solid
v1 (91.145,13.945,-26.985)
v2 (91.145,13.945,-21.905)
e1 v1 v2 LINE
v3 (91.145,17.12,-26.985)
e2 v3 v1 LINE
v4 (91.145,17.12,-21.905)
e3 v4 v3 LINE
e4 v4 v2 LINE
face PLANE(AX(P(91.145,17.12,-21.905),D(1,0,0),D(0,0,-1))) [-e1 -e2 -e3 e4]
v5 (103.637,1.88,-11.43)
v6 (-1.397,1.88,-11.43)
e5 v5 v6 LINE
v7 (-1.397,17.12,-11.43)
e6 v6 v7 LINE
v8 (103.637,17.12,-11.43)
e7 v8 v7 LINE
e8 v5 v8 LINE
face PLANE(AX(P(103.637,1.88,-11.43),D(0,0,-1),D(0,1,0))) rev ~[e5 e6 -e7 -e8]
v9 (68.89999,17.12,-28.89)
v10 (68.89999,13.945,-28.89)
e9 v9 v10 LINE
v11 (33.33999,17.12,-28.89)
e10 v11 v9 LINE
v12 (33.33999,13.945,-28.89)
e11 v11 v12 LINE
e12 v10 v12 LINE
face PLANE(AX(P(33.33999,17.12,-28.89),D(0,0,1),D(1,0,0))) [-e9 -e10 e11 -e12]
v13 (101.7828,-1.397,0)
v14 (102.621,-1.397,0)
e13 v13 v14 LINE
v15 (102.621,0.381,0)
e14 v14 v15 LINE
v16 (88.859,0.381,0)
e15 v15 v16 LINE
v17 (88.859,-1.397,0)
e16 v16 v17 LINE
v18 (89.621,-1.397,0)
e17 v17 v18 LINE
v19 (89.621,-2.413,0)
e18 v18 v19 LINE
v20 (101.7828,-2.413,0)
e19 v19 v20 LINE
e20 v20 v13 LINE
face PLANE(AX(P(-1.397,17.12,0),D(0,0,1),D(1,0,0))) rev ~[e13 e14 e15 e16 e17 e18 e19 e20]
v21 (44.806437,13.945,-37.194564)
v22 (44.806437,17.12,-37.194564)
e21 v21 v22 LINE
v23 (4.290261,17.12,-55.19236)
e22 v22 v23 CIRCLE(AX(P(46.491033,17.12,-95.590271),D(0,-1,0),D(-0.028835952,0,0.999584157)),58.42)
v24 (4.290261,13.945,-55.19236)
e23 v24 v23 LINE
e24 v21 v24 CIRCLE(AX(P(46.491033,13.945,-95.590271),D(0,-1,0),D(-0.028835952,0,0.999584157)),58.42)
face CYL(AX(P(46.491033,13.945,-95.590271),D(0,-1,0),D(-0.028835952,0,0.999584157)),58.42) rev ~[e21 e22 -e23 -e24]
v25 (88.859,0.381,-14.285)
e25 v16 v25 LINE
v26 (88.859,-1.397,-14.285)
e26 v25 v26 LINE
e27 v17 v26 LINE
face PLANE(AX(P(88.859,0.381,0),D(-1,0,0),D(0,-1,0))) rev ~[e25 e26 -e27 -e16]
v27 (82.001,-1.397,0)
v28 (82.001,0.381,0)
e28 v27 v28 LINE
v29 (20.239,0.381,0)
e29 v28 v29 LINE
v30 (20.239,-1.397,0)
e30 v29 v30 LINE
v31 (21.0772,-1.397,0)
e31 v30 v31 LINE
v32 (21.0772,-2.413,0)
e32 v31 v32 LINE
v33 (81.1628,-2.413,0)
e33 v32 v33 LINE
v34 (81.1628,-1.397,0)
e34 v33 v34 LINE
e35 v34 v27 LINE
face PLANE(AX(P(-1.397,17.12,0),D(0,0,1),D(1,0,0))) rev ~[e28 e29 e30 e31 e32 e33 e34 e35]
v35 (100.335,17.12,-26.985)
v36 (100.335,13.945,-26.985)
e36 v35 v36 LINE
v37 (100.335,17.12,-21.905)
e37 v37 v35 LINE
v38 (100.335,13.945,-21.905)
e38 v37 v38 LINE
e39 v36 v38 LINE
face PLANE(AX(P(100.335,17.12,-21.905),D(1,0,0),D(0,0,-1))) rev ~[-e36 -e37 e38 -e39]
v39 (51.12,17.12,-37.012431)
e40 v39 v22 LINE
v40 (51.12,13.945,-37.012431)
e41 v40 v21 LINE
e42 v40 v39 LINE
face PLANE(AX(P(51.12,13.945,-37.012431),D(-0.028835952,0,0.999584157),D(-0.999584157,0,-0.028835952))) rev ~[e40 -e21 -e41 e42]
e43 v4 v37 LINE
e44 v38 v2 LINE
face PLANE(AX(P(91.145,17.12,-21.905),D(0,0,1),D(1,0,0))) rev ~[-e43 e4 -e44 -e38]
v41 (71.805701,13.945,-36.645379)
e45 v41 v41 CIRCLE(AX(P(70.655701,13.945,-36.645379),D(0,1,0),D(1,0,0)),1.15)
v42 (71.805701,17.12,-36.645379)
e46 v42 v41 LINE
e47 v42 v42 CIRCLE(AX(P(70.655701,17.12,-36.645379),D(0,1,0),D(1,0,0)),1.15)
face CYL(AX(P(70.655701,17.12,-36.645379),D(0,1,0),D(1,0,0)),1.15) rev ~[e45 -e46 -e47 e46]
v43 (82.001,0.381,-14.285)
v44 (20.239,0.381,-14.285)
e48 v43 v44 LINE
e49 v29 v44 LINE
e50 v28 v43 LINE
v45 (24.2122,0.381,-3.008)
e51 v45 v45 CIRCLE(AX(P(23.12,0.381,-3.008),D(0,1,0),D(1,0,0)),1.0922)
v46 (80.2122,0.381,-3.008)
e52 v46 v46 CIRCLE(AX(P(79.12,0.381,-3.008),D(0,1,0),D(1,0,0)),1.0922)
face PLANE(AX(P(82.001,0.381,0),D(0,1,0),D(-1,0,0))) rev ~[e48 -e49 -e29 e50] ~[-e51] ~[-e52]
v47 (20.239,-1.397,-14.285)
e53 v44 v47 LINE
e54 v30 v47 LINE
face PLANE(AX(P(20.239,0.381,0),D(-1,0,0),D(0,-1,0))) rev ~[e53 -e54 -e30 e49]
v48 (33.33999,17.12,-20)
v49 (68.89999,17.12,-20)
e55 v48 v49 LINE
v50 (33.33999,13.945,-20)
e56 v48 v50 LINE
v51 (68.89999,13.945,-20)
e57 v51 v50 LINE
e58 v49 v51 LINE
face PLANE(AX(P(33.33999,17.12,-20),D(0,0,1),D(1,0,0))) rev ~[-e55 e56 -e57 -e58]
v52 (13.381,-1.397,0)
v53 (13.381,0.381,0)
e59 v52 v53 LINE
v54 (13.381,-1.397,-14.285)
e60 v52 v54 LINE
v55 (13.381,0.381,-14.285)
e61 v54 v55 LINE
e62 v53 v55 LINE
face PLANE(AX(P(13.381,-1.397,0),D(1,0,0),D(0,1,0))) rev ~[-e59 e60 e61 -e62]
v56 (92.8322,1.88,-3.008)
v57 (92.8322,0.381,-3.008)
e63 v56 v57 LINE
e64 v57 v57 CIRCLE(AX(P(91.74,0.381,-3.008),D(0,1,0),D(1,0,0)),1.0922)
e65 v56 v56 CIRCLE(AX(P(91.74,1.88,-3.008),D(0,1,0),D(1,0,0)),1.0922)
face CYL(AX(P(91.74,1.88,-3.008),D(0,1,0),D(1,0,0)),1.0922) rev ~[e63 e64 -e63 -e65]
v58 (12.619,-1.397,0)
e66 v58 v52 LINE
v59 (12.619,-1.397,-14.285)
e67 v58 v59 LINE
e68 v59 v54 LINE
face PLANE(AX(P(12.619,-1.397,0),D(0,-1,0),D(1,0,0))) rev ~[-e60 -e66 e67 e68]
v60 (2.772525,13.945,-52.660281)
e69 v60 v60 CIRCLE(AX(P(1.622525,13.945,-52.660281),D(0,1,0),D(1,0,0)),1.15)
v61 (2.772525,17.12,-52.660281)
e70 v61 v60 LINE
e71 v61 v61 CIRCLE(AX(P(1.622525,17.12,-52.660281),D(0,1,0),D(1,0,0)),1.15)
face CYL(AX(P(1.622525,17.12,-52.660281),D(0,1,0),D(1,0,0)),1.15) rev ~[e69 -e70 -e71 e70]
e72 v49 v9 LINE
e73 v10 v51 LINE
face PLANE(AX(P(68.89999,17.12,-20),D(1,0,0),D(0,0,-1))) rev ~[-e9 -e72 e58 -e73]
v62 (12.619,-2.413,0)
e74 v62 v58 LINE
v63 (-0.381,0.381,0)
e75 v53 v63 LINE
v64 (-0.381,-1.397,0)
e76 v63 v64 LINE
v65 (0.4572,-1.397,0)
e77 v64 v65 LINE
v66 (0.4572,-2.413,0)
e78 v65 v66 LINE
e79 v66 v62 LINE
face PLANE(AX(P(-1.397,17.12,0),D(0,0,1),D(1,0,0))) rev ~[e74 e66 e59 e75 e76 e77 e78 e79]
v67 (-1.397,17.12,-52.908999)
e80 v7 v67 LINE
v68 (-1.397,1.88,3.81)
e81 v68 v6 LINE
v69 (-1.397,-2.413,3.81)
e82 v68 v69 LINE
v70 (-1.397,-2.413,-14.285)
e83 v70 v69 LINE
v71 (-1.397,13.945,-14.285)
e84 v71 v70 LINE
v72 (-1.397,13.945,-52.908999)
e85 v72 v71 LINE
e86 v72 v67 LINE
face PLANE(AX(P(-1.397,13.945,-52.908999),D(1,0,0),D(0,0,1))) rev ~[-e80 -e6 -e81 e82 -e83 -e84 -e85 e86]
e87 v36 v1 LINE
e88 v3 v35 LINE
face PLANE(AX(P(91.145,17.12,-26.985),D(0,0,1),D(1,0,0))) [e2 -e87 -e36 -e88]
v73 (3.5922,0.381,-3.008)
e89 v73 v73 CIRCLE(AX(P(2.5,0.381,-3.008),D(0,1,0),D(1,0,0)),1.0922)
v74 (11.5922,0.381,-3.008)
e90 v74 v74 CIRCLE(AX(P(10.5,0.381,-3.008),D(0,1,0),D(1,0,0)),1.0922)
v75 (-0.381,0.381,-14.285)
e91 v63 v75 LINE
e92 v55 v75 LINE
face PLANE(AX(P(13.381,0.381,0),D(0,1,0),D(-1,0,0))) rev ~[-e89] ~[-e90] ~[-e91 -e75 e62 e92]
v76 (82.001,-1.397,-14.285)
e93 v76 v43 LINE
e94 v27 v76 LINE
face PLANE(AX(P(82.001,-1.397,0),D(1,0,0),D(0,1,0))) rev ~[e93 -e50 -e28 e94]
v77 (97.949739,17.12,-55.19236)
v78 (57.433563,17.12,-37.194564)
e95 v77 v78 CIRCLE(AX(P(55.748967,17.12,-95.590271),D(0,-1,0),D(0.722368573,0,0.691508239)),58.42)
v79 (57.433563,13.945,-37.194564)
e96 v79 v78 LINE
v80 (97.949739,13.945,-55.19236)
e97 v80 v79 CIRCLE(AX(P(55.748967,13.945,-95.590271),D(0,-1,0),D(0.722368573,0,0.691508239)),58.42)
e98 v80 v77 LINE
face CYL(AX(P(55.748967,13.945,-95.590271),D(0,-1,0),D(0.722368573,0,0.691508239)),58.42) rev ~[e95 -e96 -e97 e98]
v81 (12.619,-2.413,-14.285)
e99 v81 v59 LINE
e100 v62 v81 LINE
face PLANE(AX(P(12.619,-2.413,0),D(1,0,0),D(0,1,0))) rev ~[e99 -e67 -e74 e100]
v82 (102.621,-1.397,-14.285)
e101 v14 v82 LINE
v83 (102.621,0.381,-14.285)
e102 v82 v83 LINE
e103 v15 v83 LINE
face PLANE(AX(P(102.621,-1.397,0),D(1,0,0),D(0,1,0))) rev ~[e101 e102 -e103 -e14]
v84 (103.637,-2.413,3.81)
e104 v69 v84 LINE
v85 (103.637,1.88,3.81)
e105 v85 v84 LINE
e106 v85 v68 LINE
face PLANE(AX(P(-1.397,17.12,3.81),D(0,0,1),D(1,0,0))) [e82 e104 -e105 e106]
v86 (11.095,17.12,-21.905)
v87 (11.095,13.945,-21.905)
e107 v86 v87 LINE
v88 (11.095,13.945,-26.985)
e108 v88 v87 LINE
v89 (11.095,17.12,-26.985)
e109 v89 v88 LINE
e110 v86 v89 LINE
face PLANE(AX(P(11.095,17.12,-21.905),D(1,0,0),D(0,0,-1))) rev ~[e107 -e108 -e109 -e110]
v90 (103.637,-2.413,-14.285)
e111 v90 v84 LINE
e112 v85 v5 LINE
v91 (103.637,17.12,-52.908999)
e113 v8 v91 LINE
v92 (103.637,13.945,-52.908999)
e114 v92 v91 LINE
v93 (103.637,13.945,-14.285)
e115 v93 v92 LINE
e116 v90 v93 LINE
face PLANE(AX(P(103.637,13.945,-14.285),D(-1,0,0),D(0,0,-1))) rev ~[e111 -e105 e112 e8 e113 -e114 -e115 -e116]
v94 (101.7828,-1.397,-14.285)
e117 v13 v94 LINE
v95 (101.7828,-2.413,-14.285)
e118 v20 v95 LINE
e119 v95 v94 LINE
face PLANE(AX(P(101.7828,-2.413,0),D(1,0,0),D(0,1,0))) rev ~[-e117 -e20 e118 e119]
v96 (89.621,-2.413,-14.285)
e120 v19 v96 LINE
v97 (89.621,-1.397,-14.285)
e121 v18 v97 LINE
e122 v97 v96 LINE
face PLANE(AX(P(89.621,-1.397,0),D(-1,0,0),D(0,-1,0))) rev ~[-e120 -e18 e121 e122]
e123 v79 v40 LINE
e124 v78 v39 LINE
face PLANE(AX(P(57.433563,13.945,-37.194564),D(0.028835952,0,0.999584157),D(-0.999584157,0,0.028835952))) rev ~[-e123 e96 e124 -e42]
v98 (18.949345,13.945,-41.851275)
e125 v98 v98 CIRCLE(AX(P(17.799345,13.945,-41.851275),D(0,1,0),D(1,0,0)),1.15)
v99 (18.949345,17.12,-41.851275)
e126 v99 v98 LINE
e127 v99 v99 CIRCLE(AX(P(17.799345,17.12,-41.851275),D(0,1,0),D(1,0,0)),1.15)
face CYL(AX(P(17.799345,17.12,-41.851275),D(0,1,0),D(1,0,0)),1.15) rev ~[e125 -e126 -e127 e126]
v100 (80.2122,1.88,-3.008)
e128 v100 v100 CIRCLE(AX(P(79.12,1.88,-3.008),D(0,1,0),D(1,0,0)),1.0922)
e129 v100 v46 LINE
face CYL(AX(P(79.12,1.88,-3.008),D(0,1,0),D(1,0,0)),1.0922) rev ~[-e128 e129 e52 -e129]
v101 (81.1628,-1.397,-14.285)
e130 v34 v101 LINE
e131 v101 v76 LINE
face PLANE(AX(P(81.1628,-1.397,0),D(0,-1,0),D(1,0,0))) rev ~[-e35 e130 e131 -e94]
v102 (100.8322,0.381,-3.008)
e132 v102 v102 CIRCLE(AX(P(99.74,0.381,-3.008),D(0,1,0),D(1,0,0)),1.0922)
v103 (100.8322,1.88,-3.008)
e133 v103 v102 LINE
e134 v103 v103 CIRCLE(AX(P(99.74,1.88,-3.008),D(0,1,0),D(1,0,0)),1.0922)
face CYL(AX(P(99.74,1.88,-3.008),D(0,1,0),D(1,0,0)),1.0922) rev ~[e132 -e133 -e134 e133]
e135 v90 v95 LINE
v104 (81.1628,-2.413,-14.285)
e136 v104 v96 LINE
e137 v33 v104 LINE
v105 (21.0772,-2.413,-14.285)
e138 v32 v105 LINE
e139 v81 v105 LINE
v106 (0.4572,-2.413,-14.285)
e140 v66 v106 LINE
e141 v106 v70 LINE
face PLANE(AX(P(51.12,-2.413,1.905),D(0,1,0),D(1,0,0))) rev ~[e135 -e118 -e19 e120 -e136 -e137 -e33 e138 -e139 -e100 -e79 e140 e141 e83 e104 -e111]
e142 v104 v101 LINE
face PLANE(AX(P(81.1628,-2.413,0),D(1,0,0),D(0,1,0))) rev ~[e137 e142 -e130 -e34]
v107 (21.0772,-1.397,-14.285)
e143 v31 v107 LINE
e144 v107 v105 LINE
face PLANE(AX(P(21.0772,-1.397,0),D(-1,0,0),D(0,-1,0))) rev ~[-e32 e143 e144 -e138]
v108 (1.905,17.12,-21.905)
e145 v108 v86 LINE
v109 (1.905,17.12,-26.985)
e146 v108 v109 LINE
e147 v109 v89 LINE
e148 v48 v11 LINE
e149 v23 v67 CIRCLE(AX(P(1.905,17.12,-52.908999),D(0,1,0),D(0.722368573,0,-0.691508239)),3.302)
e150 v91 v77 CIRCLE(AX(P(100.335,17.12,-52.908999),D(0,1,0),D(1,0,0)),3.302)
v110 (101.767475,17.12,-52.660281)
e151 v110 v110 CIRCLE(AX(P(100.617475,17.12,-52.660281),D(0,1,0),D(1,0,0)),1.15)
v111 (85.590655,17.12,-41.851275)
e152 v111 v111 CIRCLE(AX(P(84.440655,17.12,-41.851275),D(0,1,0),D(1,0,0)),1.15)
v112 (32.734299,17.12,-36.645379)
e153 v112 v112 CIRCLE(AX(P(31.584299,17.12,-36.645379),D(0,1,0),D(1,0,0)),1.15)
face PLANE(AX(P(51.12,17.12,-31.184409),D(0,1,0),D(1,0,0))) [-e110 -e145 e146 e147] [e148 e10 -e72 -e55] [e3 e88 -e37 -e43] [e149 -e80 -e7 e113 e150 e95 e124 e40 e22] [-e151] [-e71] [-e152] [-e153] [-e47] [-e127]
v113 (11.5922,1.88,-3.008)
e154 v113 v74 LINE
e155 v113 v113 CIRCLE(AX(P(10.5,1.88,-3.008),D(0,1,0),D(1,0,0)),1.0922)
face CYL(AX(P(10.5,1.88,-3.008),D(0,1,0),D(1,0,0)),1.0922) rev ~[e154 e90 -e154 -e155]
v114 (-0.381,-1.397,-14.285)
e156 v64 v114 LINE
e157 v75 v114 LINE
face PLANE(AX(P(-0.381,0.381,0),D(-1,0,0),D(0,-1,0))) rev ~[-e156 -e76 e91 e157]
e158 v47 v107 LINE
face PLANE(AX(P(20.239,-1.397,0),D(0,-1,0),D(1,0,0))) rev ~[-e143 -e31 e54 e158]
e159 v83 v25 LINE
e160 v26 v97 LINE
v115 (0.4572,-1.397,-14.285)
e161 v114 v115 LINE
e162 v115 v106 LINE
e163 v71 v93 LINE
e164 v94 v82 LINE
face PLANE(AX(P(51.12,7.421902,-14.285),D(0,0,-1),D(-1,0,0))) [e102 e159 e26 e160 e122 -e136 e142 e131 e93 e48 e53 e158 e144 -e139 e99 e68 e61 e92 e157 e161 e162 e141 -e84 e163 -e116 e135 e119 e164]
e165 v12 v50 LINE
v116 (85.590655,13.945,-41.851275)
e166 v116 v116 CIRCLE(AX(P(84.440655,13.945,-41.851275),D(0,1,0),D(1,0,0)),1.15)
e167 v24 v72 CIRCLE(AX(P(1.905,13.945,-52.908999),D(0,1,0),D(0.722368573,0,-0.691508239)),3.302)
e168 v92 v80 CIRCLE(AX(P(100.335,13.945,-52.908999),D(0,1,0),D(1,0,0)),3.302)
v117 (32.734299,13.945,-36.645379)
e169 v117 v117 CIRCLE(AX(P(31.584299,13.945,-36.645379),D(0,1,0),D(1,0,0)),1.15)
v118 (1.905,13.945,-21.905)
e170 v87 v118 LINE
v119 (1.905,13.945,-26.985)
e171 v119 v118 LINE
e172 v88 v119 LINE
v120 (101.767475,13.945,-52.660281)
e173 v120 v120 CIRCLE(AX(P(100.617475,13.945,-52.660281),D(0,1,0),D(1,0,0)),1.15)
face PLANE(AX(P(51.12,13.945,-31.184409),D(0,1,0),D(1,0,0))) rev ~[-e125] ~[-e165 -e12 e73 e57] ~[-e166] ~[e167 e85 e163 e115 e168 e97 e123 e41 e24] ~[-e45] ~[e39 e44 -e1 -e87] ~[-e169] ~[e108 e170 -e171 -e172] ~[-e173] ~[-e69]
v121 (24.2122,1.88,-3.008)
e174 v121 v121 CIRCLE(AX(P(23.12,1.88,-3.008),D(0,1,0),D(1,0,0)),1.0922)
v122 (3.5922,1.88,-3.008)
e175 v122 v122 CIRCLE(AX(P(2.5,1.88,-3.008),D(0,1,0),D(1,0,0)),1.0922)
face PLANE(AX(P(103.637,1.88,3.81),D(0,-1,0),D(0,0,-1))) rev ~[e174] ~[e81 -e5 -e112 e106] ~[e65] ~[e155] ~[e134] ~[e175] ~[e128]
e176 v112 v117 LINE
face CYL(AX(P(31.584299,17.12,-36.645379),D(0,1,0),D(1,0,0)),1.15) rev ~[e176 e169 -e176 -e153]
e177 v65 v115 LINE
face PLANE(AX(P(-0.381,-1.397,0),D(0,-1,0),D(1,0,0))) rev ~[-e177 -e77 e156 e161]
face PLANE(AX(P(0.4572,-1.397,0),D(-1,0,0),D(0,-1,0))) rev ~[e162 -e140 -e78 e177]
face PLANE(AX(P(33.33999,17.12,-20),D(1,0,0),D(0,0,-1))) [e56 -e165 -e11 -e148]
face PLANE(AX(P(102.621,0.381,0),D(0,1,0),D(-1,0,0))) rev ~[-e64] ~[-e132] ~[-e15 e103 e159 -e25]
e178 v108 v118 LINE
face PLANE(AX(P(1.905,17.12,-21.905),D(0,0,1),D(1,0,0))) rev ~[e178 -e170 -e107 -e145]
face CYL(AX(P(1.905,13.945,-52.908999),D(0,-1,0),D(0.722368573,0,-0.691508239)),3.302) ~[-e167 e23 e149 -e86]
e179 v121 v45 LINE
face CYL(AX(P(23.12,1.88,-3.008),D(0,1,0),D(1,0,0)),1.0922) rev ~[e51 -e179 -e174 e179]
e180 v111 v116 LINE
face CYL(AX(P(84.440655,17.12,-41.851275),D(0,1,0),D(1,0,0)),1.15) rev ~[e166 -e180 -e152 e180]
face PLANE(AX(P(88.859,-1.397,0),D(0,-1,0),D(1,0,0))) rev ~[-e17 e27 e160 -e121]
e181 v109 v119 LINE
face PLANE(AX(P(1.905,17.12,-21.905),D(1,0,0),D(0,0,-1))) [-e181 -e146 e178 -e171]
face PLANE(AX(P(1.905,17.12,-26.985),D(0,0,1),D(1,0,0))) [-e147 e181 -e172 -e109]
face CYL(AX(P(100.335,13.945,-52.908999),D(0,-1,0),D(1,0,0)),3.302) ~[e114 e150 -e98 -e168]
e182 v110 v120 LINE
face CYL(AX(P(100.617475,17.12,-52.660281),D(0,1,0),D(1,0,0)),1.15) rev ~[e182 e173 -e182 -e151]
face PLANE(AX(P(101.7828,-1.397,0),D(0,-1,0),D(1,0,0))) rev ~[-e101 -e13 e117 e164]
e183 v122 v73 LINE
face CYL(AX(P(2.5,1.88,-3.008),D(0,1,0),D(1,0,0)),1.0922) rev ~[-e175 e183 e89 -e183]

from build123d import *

# Parameters (mm, degrees)
BOSS_EXTRUDE2_DEPTH = 14.285
SKETCH4_W           = 105.034
SKETCH4_H           = 3.81
BOSS_EXTRUDE3_DEPTH = 19.533
SKETCH5_W           = 15.24
SKETCH5_H           = 15.24
CUT_EXTRUDE1_DEPTH  = 105.034
BOSS_EXTRUDE7_START = -3.175
BOSS_EXTRUDE7_DEPTH = 3.175
CUT_EXTRUDE2_REACH  = 21.533
SKETCH9_R           = 1.15
SKETCH9_W           = 35.56
SKETCH9_H           = 8.89
SKETCH9_W_2         = 9.19
SKETCH9_H_2         = 5.08
CUT_EXTRUDE3_REACH  = 6.293
SKETCH13_R          = 1.0922


with BuildPart() as part:
    # Sketch1 → Boss-Extrude2 (new body)
    with BuildSketch(Plane.XY):
        Polygon((13.381, 0.381), (-0.381, 0.381), (-0.381, -1.397), (0.4572, -1.397), (0.4572, -2.413), (-1.397, -2.413), (-1.397, 1.397), (-1.397, 17.12), (103.637, 17.12), (103.637, 1.397), (103.637, -2.413), (101.7828, -2.413), (101.7828, -1.397), (102.621, -1.397), (102.621, 0.381), (88.859, 0.381), (88.859, -1.397), (89.621, -1.397), (89.621, -2.413), (87.843, -2.413), (83.017, -2.413), (81.1628, -2.413), (81.1628, -1.397), (82.001, -1.397), (82.001, 0.381), (20.239, 0.381), (20.239, -1.397), (21.0772, -1.397), (21.0772, -2.413), (19.223, -2.413), (14.397, -2.413), (12.619, -2.413), (12.619, -1.397), (13.381, -1.397), align=None)
    extrude(amount=-BOSS_EXTRUDE2_DEPTH)

    # Sketch4 → Boss-Extrude3 (add)
    with BuildSketch(Plane(origin=(0, 17.12, 0), x_dir=(1, 0, 0), z_dir=(0, 1, 0))):
        with Locations((51.12, -1.905)):
            Rectangle(SKETCH4_W, SKETCH4_H)
    extrude(amount=-BOSS_EXTRUDE3_DEPTH)

    # Sketch5 → Cut-Extrude1 (cut)
    with BuildSketch(Plane(origin=(103.637, 0, 0), x_dir=(0, 0, -1), z_dir=(1, 0, 0))):
        with Locations((3.81, 9.5)):
            Rectangle(SKETCH5_W, SKETCH5_H)
    extrude(amount=-CUT_EXTRUDE1_DEPTH, mode=Mode.SUBTRACT)

    # Sketch8 → Boss-Extrude7 (add)
    with BuildSketch(Plane(origin=(0, 17.12, 0), x_dir=(1, 0, 0), z_dir=(0, 1, 0)).offset(BOSS_EXTRUDE7_START)):
        with BuildLine():
            Line((-1.397, 52.90899931), (-1.397, 14.285))
            Line((-1.397, 14.285), (103.637, 14.285))
            Line((103.637, 14.285), (103.637, 52.90899931))
            ThreePointArc((103.637, 52.90899931), (101.565258526, 55.97325582), (97.949738971, 55.192359514))
            ThreePointArc((97.949738971, 55.192359514), (79.465238701, 42.200806947), (57.433563247, 37.194564339))
            Line((57.433563247, 37.194564339), (51.12, 37.012430992))
            Line((51.12, 37.012430992), (44.806436753, 37.194564339))
            ThreePointArc((44.806436753, 37.194564339), (22.774761299, 42.200806947), (4.290261029, 55.192359514))
            ThreePointArc((4.290261029, 55.192359514), (0.674741474, 55.97325582), (-1.397, 52.90899931))
        make_face()
    extrude(amount=BOSS_EXTRUDE7_DEPTH)

    # Sketch9 → Cut-Extrude2 (cut, up to next)
    with BuildSketch(Plane(origin=(0, 17.12, 0), x_dir=(1, 0, 0), z_dir=(0, 1, 0)), mode=Mode.PRIVATE) as cut_extrude2_sk1:
        with Locations((100.617474683, 52.660280557)):
            Circle(SKETCH9_R)
    cut_extrude2_tool1 = extrude(cut_extrude2_sk1.sketch, amount=-CUT_EXTRUDE2_REACH, mode=Mode.PRIVATE) & part.part
    add(cut_extrude2_tool1.solids().sort_by_distance((100.617475, 17.12, -52.660281))[0], mode=Mode.SUBTRACT)
    # Sketch9 → Cut-Extrude2 (cut, up to next)
    with BuildSketch(Plane(origin=(0, 17.12, 0), x_dir=(1, 0, 0), z_dir=(0, 1, 0)), mode=Mode.PRIVATE) as cut_extrude2_sk2:
        with Locations((84.44065509, 41.851275276)):
            Circle(SKETCH9_R)
    cut_extrude2_tool2 = extrude(cut_extrude2_sk2.sketch, amount=-CUT_EXTRUDE2_REACH, mode=Mode.PRIVATE) & part.part
    add(cut_extrude2_tool2.solids().sort_by_distance((84.440655, 17.12, -41.851275))[0], mode=Mode.SUBTRACT)
    # Sketch9 → Cut-Extrude2 (cut, up to next)
    with BuildSketch(Plane(origin=(0, 17.12, 0), x_dir=(1, 0, 0), z_dir=(0, 1, 0)), mode=Mode.PRIVATE) as cut_extrude2_sk3:
        with Locations((70.655700553, 36.645378632)):
            Circle(SKETCH9_R)
    cut_extrude2_tool3 = extrude(cut_extrude2_sk3.sketch, amount=-CUT_EXTRUDE2_REACH, mode=Mode.PRIVATE) & part.part
    add(cut_extrude2_tool3.solids().sort_by_distance((70.655701, 17.12, -36.645379))[0], mode=Mode.SUBTRACT)
    # Sketch9 → Cut-Extrude2 (cut, up to next)
    with BuildSketch(Plane(origin=(0, 17.12, 0), x_dir=(1, 0, 0), z_dir=(0, 1, 0)), mode=Mode.PRIVATE) as cut_extrude2_sk4:
        with Locations((31.584299447, 36.645378632)):
            Circle(SKETCH9_R)
    cut_extrude2_tool4 = extrude(cut_extrude2_sk4.sketch, amount=-CUT_EXTRUDE2_REACH, mode=Mode.PRIVATE) & part.part
    add(cut_extrude2_tool4.solids().sort_by_distance((31.584299, 17.12, -36.645379))[0], mode=Mode.SUBTRACT)
    # Sketch9 → Cut-Extrude2 (cut, up to next)
    with BuildSketch(Plane(origin=(0, 17.12, 0), x_dir=(1, 0, 0), z_dir=(0, 1, 0)), mode=Mode.PRIVATE) as cut_extrude2_sk5:
        with Locations((17.79934491, 41.851275276)):
            Circle(SKETCH9_R)
    cut_extrude2_tool5 = extrude(cut_extrude2_sk5.sketch, amount=-CUT_EXTRUDE2_REACH, mode=Mode.PRIVATE) & part.part
    add(cut_extrude2_tool5.solids().sort_by_distance((17.799345, 17.12, -41.851275))[0], mode=Mode.SUBTRACT)
    # Sketch9 → Cut-Extrude2 (cut, up to next)
    with BuildSketch(Plane(origin=(0, 17.12, 0), x_dir=(1, 0, 0), z_dir=(0, 1, 0)), mode=Mode.PRIVATE) as cut_extrude2_sk6:
        with Locations((1.622525317, 52.660280557)):
            Circle(SKETCH9_R)
    cut_extrude2_tool6 = extrude(cut_extrude2_sk6.sketch, amount=-CUT_EXTRUDE2_REACH, mode=Mode.PRIVATE) & part.part
    add(cut_extrude2_tool6.solids().sort_by_distance((1.622525, 17.12, -52.660281))[0], mode=Mode.SUBTRACT)
    # Sketch9 → Cut-Extrude2 (cut, up to next)
    with BuildSketch(Plane(origin=(0, 17.12, 0), x_dir=(1, 0, 0), z_dir=(0, 1, 0)), mode=Mode.PRIVATE) as cut_extrude2_sk7:
        with Locations((51.1199898, 24.445)):
            Rectangle(SKETCH9_W, SKETCH9_H)
    cut_extrude2_tool7 = extrude(cut_extrude2_sk7.sketch, amount=-CUT_EXTRUDE2_REACH, mode=Mode.PRIVATE) & part.part
    add(cut_extrude2_tool7.solids().sort_by_distance((51.11999, 17.12, -24.445))[0], mode=Mode.SUBTRACT)
    # Sketch9 → Cut-Extrude2 (cut, up to next)
    with BuildSketch(Plane(origin=(0, 17.12, 0), x_dir=(1, 0, 0), z_dir=(0, 1, 0)), mode=Mode.PRIVATE) as cut_extrude2_sk8:
        with Locations((6.5, 24.445)):
            Rectangle(SKETCH9_W_2, SKETCH9_H_2)
    cut_extrude2_tool8 = extrude(cut_extrude2_sk8.sketch, amount=-CUT_EXTRUDE2_REACH, mode=Mode.PRIVATE) & part.part
    add(cut_extrude2_tool8.solids().sort_by_distance((6.5, 17.12, -24.445))[0], mode=Mode.SUBTRACT)
    # Sketch9 → Cut-Extrude2 (cut, up to next)
    with BuildSketch(Plane(origin=(0, 17.12, 0), x_dir=(1, 0, 0), z_dir=(0, 1, 0)), mode=Mode.PRIVATE) as cut_extrude2_sk9:
        with Locations((95.74, 24.445)):
            Rectangle(SKETCH9_W_2, SKETCH9_H_2)
    cut_extrude2_tool9 = extrude(cut_extrude2_sk9.sketch, amount=-CUT_EXTRUDE2_REACH, mode=Mode.PRIVATE) & part.part
    add(cut_extrude2_tool9.solids().sort_by_distance((95.74, 17.12, -24.445))[0], mode=Mode.SUBTRACT)

    # Sketch13 → Cut-Extrude3 (cut, up to next)
    with BuildSketch(Plane(origin=(0, 1.88, 0), x_dir=(1, 0, 0), z_dir=(0, 1, 0)), mode=Mode.PRIVATE) as cut_extrude3_sk1:
        with Locations((23.12, 3.008)):
            Circle(SKETCH13_R)
    cut_extrude3_tool1 = extrude(cut_extrude3_sk1.sketch, amount=-CUT_EXTRUDE3_REACH, mode=Mode.PRIVATE) & part.part
    add(cut_extrude3_tool1.solids().sort_by_distance((23.12, 1.88, -3.008))[0], mode=Mode.SUBTRACT)
    # Sketch13 → Cut-Extrude3 (cut, up to next)
    with BuildSketch(Plane(origin=(0, 1.88, 0), x_dir=(1, 0, 0), z_dir=(0, 1, 0)), mode=Mode.PRIVATE) as cut_extrude3_sk2:
        with Locations((10.5, 3.008)):
            Circle(SKETCH13_R)
    cut_extrude3_tool2 = extrude(cut_extrude3_sk2.sketch, amount=-CUT_EXTRUDE3_REACH, mode=Mode.PRIVATE) & part.part
    add(cut_extrude3_tool2.solids().sort_by_distance((10.5, 1.88, -3.008))[0], mode=Mode.SUBTRACT)
    # Sketch13 → Cut-Extrude3 (cut, up to next)
    with BuildSketch(Plane(origin=(0, 1.88, 0), x_dir=(1, 0, 0), z_dir=(0, 1, 0)), mode=Mode.PRIVATE) as cut_extrude3_sk3:
        with Locations((2.5, 3.008)):
            Circle(SKETCH13_R)
    cut_extrude3_tool3 = extrude(cut_extrude3_sk3.sketch, amount=-CUT_EXTRUDE3_REACH, mode=Mode.PRIVATE) & part.part
    add(cut_extrude3_tool3.solids().sort_by_distance((2.5, 1.88, -3.008))[0], mode=Mode.SUBTRACT)
    # Sketch13 → Cut-Extrude3 (cut, up to next)
    with BuildSketch(Plane(origin=(0, 1.88, 0), x_dir=(1, 0, 0), z_dir=(0, 1, 0)), mode=Mode.PRIVATE) as cut_extrude3_sk4:
        with Locations((79.12, 3.008)):
            Circle(SKETCH13_R)
    cut_extrude3_tool4 = extrude(cut_extrude3_sk4.sketch, amount=-CUT_EXTRUDE3_REACH, mode=Mode.PRIVATE) & part.part
    add(cut_extrude3_tool4.solids().sort_by_distance((79.12, 1.88, -3.008))[0], mode=Mode.SUBTRACT)
    # Sketch13 → Cut-Extrude3 (cut, up to next)
    with BuildSketch(Plane(origin=(0, 1.88, 0), x_dir=(1, 0, 0), z_dir=(0, 1, 0)), mode=Mode.PRIVATE) as cut_extrude3_sk5:
        with Locations((91.74, 3.008)):
            Circle(SKETCH13_R)
    cut_extrude3_tool5 = extrude(cut_extrude3_sk5.sketch, amount=-CUT_EXTRUDE3_REACH, mode=Mode.PRIVATE) & part.part
    add(cut_extrude3_tool5.solids().sort_by_distance((91.74, 1.88, -3.008))[0], mode=Mode.SUBTRACT)
    # Sketch13 → Cut-Extrude3 (cut, up to next)
    with BuildSketch(Plane(origin=(0, 1.88, 0), x_dir=(1, 0, 0), z_dir=(0, 1, 0)), mode=Mode.PRIVATE) as cut_extrude3_sk6:
        with Locations((99.74, 3.008)):
            Circle(SKETCH13_R)
    cut_extrude3_tool6 = extrude(cut_extrude3_sk6.sketch, amount=-CUT_EXTRUDE3_REACH, mode=Mode.PRIVATE) & part.part
    add(cut_extrude3_tool6.solids().sort_by_distance((99.74, 1.88, -3.008))[0], mode=Mode.SUBTRACT)


solid = part.part
